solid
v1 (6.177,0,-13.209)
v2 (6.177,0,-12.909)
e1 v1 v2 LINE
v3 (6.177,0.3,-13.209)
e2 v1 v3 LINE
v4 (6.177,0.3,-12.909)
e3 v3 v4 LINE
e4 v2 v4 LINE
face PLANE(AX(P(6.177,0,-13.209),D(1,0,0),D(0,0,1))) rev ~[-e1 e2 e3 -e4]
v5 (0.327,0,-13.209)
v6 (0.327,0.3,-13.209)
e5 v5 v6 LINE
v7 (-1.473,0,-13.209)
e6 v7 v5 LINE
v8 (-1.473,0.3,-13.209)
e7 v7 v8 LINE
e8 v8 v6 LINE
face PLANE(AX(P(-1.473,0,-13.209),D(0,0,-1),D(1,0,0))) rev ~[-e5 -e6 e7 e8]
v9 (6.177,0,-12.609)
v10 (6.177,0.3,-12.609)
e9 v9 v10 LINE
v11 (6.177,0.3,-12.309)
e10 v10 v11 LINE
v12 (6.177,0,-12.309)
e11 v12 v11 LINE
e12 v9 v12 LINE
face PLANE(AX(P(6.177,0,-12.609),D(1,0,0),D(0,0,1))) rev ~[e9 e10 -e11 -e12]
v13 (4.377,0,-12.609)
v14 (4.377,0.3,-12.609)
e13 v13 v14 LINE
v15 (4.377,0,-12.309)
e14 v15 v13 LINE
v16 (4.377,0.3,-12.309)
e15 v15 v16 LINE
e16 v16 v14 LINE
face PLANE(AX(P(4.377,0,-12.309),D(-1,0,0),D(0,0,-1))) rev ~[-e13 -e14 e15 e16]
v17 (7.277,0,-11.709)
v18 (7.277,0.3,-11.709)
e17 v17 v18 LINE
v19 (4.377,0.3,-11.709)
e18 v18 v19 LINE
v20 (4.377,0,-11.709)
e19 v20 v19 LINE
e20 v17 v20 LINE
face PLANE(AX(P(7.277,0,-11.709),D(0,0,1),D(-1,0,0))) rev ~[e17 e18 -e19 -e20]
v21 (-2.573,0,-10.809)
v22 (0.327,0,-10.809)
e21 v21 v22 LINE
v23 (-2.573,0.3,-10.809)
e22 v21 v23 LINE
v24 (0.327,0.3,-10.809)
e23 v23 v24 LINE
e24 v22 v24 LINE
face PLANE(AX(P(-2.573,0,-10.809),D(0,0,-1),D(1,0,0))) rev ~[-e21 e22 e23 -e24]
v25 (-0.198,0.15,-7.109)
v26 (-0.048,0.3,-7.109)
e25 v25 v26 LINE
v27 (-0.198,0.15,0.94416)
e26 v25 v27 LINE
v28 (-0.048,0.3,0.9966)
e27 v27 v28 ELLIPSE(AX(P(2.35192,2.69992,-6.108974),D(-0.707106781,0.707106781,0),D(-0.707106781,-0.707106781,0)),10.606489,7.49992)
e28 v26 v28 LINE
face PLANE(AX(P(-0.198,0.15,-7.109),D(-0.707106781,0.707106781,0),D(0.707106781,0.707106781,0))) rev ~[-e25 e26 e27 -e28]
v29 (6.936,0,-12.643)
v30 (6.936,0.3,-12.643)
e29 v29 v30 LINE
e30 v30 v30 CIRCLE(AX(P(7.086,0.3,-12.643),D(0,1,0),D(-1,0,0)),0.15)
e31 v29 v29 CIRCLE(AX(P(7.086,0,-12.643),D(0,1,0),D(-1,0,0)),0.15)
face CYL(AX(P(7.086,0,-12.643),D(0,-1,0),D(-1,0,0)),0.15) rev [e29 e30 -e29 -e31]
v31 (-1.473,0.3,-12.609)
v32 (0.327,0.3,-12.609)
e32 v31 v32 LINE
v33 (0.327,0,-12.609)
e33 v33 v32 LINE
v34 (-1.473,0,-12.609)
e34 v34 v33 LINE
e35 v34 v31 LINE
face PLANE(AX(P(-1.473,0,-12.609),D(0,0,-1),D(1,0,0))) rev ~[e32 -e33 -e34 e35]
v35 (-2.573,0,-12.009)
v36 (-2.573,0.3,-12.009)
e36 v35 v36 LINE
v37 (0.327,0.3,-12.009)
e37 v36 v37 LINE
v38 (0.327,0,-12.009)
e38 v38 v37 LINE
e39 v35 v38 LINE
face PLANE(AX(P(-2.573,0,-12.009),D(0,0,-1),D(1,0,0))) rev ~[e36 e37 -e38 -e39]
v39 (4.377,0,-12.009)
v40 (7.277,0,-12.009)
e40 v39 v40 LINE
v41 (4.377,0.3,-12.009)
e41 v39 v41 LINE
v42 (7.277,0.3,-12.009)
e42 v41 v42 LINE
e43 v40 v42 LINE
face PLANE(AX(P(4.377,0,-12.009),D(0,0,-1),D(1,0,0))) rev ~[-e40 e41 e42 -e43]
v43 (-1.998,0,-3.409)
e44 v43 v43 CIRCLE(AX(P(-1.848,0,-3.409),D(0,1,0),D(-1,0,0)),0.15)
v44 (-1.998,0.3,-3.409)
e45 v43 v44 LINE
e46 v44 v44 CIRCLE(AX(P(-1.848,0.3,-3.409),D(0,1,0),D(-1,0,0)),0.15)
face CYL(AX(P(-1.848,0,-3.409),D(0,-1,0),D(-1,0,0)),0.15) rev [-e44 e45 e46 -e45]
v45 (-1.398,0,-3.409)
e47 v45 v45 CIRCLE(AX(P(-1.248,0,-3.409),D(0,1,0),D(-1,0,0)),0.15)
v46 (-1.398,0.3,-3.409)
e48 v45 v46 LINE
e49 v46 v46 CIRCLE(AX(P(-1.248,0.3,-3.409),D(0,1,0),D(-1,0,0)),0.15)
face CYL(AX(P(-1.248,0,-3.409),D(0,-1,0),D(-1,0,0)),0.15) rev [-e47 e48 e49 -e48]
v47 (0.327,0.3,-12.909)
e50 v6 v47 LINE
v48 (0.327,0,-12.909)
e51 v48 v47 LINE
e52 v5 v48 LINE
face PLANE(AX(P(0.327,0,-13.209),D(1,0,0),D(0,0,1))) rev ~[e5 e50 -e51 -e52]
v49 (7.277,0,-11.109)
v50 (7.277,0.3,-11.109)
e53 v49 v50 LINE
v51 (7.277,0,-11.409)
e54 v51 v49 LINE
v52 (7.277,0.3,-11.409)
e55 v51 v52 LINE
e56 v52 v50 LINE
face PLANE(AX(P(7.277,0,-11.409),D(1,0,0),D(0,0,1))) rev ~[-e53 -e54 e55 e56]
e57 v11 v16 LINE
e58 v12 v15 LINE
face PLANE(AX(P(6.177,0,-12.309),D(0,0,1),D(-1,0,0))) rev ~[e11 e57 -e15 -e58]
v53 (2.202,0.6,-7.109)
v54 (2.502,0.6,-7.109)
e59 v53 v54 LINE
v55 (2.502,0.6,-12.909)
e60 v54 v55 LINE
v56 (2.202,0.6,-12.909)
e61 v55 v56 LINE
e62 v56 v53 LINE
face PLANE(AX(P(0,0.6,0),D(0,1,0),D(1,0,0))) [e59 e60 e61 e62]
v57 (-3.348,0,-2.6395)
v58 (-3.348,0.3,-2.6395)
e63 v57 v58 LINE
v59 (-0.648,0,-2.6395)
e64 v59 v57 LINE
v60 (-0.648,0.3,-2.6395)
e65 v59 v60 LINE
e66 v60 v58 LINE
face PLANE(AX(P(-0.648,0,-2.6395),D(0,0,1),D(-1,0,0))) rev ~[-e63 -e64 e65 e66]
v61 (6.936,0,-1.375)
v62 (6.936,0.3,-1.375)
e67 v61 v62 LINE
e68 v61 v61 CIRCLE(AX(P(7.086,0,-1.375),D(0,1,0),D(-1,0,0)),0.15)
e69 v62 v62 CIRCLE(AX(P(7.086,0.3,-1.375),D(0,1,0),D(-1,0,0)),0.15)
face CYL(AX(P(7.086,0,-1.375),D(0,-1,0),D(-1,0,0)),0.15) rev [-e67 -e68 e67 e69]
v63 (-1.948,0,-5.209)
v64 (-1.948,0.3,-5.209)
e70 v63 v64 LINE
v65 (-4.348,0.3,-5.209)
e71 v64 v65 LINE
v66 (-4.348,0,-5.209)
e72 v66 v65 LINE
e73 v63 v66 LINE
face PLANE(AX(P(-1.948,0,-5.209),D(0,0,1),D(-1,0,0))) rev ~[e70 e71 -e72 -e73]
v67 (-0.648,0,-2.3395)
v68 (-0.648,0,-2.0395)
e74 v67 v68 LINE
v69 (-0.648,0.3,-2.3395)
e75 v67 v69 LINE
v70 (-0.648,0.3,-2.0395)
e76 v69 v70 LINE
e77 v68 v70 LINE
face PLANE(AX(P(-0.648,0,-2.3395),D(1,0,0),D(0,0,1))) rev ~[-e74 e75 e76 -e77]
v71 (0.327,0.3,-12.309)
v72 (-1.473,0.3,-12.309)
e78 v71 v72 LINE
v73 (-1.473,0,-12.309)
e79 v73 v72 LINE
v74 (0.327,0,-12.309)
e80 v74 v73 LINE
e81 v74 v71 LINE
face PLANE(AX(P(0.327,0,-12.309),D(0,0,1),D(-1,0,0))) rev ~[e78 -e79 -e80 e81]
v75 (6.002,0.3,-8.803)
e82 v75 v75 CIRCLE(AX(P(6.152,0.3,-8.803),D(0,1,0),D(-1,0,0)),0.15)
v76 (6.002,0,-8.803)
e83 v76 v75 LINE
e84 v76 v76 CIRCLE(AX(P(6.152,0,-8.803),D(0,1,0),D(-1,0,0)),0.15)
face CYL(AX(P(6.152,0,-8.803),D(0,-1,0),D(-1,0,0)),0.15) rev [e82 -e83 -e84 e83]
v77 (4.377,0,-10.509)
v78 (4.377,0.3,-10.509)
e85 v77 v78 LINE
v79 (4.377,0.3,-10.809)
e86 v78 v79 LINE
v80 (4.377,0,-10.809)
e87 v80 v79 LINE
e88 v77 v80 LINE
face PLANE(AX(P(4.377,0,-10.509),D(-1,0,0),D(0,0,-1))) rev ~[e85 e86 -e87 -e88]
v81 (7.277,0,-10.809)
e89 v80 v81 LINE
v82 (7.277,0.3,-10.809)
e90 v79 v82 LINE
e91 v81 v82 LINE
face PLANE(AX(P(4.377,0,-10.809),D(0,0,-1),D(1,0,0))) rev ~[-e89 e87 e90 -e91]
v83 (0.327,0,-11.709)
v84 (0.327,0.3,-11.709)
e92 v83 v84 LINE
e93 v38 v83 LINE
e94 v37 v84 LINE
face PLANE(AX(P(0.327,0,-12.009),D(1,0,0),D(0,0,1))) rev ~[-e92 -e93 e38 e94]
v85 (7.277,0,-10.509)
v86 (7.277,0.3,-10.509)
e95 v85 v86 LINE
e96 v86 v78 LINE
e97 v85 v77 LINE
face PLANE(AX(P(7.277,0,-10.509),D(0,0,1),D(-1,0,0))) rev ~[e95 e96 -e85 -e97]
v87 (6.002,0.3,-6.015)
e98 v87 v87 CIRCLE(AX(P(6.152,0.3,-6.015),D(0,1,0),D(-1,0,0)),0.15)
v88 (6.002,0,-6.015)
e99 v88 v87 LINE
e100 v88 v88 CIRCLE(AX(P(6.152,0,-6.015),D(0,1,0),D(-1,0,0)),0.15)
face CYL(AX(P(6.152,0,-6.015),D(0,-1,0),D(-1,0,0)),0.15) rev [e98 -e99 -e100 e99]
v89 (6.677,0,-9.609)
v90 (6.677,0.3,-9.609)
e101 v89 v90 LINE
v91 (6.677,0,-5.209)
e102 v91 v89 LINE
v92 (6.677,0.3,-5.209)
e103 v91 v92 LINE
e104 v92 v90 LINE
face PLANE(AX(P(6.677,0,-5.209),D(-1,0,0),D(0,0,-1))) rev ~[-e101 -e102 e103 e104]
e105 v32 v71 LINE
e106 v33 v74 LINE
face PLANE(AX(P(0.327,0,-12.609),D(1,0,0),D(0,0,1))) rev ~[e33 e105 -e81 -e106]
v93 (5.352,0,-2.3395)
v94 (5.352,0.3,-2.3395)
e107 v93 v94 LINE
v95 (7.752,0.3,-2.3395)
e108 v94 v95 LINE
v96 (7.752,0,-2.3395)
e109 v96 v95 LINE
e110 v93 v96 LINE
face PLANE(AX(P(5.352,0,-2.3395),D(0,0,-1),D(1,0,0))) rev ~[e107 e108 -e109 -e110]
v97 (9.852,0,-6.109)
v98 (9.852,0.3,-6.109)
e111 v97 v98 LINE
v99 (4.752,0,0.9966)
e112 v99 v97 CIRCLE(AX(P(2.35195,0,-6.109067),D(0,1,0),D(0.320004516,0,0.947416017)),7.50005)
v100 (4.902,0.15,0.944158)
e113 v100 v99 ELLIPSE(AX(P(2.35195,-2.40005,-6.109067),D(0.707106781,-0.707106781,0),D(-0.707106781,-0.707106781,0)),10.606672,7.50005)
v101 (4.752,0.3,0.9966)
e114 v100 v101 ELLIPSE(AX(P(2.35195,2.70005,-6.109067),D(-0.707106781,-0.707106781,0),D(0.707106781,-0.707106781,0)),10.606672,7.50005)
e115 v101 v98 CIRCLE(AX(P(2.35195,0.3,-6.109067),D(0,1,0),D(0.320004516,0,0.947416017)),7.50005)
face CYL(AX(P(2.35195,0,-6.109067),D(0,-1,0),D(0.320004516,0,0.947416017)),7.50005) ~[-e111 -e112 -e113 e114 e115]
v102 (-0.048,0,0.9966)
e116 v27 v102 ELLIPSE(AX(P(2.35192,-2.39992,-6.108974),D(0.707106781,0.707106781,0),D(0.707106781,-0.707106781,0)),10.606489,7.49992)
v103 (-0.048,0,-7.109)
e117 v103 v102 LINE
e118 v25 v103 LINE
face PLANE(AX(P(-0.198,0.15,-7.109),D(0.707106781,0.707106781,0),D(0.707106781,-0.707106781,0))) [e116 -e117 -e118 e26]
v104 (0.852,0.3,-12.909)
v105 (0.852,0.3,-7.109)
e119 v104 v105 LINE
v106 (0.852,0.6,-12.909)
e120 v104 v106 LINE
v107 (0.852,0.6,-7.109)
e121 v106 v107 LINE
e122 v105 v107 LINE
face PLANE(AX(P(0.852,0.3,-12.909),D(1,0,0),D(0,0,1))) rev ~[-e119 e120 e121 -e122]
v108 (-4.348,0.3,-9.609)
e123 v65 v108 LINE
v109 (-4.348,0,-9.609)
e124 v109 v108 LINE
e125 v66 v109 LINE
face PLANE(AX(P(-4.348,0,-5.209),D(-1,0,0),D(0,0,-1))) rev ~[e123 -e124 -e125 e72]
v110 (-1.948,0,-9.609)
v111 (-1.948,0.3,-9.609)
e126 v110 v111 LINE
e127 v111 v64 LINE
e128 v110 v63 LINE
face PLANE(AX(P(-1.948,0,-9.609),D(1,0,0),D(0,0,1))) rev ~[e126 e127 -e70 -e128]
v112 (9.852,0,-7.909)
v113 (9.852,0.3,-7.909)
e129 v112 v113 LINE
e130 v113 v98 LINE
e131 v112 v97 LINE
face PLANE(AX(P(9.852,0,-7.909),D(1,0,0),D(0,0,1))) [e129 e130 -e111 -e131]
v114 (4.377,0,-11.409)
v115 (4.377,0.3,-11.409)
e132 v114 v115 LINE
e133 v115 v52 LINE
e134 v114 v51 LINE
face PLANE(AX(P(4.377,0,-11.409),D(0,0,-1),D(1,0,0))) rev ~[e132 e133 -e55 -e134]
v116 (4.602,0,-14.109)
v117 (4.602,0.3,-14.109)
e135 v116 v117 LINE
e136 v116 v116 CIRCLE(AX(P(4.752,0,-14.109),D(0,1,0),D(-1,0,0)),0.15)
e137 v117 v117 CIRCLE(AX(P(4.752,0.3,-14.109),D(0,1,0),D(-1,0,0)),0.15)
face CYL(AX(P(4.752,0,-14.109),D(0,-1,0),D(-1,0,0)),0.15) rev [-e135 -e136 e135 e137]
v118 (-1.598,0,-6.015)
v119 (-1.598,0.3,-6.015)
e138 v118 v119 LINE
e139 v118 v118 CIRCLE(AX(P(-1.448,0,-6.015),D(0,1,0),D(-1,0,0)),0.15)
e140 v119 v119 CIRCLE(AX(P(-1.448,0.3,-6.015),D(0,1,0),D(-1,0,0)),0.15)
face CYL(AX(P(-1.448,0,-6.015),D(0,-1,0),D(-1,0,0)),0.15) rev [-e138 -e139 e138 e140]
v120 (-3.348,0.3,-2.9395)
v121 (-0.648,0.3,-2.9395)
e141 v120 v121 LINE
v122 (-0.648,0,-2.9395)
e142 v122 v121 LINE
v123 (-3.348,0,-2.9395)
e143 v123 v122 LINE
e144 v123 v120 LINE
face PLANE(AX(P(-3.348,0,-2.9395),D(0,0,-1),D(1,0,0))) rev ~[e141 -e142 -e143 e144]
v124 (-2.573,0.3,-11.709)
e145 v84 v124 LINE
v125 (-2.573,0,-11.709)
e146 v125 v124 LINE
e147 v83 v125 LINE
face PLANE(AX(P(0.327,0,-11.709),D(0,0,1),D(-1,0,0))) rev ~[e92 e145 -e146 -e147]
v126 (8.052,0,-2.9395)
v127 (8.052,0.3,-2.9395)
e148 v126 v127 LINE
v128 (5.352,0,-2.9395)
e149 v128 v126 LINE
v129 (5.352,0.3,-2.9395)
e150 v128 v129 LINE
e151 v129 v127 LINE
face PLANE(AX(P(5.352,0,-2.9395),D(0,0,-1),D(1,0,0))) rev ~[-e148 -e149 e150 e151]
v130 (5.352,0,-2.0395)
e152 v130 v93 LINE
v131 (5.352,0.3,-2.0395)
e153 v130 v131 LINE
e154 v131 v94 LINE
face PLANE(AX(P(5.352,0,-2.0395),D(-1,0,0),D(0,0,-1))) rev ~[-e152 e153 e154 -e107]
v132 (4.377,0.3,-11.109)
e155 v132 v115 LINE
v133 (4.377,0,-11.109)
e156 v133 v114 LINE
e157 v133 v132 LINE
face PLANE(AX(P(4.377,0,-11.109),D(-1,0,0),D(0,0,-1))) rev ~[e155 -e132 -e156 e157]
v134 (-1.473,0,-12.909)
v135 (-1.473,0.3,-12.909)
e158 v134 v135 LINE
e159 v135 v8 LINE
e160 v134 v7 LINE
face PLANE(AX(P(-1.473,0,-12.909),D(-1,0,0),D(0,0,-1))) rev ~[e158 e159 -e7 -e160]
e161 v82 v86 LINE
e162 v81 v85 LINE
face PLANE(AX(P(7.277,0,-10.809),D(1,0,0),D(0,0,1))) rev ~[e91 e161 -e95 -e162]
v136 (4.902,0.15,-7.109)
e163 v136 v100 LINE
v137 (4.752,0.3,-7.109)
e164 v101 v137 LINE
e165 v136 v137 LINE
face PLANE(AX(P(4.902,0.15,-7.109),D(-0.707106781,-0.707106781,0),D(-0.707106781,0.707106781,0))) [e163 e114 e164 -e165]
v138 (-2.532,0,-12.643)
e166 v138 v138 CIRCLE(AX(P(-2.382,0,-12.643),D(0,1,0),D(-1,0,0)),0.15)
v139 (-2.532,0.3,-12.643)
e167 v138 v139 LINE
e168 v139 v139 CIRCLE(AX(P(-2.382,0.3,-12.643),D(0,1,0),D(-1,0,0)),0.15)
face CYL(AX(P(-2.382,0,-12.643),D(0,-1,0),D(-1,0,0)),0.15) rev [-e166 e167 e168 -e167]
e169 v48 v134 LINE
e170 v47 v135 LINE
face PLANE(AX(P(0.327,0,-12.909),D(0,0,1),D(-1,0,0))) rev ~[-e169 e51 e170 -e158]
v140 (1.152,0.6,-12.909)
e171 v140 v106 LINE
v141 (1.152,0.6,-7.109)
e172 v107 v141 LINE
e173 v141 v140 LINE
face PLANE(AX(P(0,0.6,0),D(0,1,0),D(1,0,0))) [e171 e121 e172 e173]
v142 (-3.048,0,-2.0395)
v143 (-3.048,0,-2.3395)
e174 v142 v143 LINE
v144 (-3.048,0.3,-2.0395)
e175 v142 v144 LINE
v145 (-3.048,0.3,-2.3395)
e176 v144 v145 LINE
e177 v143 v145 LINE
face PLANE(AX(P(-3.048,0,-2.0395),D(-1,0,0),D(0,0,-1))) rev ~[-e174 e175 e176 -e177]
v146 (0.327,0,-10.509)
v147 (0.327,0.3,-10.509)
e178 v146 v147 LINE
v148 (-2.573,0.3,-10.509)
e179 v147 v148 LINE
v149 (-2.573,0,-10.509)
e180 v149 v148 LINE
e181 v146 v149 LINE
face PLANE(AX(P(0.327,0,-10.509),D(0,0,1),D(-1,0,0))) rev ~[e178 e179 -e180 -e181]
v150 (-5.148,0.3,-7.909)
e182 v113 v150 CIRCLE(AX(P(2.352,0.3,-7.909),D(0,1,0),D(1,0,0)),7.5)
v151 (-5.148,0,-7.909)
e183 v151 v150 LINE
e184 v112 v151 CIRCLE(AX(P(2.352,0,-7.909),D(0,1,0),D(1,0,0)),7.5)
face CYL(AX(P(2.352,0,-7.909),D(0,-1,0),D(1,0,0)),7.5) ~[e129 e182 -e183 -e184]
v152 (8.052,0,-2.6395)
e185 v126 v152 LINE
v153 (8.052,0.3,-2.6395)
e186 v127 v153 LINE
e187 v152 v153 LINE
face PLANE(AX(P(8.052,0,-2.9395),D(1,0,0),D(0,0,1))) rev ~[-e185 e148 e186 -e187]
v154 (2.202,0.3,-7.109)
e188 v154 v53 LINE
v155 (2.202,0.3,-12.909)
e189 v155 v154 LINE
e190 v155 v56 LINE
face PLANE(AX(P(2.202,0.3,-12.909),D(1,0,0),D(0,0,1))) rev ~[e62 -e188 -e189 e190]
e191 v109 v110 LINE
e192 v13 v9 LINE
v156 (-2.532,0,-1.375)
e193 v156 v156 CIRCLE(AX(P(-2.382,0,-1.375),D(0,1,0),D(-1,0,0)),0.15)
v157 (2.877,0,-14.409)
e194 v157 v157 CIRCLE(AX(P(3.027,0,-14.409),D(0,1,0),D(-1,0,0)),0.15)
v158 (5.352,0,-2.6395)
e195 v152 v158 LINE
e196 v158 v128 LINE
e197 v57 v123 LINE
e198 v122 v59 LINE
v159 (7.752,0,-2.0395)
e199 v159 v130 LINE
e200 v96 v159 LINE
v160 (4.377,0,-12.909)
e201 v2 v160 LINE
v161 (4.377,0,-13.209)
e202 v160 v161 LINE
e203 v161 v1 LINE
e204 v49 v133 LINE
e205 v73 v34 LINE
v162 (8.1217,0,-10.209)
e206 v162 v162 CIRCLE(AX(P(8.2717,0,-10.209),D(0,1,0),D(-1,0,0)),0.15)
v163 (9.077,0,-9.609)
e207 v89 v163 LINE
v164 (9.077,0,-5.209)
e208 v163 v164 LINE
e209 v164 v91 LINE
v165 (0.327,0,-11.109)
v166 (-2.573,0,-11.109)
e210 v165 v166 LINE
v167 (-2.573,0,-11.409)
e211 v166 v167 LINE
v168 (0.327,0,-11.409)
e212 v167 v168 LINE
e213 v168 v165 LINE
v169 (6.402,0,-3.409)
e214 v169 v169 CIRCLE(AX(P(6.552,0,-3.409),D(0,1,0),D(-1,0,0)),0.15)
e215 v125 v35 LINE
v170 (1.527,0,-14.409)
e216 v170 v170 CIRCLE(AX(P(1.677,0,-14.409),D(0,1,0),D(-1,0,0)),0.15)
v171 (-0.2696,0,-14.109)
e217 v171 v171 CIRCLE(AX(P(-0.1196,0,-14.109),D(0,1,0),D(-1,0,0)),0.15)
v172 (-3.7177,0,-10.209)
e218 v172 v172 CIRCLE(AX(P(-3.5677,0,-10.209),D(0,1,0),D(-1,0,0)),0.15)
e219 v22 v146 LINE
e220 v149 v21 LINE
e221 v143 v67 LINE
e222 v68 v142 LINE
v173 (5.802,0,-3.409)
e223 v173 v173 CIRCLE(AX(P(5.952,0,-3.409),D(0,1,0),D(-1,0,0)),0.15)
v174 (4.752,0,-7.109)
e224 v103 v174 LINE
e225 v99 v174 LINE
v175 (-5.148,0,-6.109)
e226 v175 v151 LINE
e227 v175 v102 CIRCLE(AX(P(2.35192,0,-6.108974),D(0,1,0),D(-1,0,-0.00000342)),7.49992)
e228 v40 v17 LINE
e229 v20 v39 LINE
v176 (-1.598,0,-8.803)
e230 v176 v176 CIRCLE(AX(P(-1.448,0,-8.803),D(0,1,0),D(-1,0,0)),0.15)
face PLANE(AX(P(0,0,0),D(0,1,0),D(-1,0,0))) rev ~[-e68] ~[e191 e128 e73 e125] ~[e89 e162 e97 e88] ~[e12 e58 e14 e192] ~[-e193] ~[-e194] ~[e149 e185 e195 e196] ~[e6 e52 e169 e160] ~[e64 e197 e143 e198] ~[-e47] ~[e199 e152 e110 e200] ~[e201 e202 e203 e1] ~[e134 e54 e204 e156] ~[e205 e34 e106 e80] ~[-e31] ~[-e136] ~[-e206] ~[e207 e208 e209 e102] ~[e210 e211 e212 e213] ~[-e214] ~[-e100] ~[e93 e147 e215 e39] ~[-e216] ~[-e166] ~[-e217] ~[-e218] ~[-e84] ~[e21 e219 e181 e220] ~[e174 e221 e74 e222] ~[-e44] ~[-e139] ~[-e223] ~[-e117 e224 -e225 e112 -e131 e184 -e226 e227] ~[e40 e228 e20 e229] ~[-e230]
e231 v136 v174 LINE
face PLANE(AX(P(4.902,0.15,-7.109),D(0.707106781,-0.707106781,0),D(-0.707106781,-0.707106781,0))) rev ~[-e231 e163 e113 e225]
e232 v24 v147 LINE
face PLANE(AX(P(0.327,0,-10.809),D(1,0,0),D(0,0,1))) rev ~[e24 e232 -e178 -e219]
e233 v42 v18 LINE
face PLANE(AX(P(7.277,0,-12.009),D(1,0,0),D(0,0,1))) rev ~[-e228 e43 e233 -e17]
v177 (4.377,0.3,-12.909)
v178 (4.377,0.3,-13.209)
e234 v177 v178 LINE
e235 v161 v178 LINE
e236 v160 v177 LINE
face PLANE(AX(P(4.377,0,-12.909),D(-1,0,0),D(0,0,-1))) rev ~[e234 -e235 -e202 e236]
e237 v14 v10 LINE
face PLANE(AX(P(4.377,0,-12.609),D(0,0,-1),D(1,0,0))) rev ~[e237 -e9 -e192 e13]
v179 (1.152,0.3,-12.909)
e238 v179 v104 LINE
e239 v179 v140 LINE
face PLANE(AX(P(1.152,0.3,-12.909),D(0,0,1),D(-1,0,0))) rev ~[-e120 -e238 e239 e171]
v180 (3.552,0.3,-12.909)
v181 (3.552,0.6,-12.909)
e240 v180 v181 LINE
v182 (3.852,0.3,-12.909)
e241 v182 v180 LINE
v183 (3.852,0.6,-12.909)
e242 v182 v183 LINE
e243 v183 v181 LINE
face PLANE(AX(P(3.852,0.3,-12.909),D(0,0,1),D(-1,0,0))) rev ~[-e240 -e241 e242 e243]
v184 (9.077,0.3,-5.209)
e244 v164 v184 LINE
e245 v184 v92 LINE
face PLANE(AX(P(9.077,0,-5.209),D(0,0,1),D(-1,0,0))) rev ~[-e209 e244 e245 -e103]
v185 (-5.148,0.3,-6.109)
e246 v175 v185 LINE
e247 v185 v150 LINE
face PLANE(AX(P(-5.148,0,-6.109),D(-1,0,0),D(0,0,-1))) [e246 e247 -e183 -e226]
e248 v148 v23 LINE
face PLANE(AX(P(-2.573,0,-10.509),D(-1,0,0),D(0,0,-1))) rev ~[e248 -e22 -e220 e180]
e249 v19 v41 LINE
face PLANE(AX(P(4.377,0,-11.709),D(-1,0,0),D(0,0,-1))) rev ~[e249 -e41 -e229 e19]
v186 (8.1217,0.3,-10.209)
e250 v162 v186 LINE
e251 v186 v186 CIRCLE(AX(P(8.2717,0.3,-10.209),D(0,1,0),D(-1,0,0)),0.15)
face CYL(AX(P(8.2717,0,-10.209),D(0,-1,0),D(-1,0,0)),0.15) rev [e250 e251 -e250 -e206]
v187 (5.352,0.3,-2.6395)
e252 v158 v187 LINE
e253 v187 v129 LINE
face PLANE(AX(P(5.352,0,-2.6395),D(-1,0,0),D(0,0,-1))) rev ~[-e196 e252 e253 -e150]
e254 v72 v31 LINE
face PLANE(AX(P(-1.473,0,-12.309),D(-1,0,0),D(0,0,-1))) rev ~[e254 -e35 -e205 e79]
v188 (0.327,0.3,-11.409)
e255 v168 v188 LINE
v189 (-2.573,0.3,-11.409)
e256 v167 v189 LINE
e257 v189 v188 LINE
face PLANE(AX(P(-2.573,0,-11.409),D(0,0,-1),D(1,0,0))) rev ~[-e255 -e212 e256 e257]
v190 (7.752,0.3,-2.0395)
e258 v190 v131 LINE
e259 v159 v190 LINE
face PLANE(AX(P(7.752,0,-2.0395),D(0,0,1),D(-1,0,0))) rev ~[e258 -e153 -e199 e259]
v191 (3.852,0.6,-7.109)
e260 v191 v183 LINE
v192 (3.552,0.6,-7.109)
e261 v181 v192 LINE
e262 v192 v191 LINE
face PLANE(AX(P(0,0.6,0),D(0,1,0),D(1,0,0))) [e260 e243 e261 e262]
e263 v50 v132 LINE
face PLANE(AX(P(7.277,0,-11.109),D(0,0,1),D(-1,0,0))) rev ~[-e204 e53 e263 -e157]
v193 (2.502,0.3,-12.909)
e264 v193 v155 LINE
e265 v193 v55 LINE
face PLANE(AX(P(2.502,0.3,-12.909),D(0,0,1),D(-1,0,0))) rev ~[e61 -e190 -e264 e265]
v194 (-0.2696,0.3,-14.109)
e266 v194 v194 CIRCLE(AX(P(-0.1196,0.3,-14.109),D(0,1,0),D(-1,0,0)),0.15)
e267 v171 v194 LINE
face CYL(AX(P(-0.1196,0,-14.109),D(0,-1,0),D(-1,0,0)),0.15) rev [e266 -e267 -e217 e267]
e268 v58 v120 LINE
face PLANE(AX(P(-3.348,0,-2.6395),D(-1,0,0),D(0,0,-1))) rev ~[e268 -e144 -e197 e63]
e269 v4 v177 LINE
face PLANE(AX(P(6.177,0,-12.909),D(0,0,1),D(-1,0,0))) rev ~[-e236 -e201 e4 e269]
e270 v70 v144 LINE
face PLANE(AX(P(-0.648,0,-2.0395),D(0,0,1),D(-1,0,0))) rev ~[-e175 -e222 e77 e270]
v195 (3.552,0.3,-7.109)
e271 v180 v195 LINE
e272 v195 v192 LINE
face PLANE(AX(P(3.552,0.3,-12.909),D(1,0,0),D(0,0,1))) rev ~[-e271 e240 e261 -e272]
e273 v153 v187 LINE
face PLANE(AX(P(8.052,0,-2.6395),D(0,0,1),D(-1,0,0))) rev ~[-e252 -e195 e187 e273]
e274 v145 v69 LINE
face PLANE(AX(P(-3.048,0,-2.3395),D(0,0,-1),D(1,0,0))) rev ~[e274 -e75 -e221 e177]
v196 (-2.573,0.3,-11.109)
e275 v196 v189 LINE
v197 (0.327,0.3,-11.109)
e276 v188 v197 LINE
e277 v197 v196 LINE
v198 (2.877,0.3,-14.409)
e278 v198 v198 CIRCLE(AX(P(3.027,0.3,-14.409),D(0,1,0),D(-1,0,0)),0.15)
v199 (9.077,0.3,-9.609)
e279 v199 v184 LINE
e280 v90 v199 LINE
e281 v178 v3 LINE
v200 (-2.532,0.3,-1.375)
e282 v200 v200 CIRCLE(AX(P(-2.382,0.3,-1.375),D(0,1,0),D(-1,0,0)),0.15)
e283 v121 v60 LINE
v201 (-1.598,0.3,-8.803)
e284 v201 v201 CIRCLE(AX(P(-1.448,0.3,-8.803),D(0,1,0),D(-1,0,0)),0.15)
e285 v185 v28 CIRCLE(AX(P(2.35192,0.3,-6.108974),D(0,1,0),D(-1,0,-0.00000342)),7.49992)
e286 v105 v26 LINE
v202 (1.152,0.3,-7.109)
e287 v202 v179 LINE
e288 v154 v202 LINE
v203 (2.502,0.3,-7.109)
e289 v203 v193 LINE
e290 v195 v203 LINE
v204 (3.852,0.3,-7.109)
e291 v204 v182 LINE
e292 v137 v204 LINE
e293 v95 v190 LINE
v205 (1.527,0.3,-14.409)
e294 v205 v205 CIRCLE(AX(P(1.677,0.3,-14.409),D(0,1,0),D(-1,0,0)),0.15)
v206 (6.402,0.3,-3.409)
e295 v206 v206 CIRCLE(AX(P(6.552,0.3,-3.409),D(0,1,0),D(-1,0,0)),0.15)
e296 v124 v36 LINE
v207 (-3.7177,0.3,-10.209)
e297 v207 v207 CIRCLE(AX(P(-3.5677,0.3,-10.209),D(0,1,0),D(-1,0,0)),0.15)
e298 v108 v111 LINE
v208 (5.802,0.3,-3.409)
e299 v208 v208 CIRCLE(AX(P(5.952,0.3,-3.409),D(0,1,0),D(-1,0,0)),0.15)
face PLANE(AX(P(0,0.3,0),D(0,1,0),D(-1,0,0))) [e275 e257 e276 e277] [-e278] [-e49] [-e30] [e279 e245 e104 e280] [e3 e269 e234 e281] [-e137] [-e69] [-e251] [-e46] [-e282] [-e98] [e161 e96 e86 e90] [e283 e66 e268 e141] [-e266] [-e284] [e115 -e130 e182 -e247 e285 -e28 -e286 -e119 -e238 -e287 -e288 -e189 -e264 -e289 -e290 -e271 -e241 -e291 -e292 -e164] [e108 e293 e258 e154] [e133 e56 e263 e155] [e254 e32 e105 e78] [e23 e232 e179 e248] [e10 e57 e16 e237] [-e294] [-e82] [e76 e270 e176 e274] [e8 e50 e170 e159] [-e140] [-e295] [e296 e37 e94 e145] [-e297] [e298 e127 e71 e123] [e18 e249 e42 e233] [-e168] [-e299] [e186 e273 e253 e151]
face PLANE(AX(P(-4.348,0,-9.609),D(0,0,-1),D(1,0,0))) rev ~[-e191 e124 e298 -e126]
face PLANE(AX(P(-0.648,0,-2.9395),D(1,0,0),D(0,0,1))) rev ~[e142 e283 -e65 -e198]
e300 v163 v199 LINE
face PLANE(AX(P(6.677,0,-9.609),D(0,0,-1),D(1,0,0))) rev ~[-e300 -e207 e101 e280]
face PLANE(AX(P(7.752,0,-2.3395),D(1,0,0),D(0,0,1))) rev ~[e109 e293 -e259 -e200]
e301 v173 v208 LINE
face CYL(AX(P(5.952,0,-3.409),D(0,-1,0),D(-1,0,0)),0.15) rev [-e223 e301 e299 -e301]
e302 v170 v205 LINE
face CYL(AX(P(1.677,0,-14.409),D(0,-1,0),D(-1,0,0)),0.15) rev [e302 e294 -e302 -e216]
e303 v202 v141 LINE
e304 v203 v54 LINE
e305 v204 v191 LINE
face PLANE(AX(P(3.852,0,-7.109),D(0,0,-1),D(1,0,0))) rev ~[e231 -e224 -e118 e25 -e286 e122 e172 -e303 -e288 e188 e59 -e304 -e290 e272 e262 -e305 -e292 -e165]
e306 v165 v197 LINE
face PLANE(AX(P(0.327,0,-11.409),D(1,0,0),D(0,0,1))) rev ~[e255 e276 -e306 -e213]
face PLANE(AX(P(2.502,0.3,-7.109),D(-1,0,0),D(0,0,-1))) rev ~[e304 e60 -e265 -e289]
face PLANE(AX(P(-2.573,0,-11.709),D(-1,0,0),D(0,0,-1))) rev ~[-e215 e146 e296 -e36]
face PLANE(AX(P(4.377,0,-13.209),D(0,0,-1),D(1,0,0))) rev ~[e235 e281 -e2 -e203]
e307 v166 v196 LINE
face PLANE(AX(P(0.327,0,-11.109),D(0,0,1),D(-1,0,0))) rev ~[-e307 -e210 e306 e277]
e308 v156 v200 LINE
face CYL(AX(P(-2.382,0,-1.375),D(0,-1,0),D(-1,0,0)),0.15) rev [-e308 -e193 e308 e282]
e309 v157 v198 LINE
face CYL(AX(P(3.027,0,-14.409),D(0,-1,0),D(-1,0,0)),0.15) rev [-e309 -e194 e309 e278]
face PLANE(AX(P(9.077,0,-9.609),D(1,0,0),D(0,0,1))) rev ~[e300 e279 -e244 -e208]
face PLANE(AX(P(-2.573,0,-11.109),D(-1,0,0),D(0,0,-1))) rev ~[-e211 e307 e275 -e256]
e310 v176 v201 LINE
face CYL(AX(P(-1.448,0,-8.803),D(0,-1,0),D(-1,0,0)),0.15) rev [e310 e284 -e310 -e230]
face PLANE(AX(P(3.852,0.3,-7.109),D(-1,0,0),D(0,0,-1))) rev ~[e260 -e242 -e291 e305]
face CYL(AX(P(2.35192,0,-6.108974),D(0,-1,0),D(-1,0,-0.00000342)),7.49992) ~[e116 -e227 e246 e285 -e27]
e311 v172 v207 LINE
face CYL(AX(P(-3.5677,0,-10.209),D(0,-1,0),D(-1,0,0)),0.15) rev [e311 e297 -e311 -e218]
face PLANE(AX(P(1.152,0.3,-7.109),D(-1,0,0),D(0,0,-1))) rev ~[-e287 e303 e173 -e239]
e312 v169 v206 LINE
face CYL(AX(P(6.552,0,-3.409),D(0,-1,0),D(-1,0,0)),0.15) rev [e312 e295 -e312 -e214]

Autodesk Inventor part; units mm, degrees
ref_plane "YZ Plane" through (0, 0, 0) normal (1, 0, 0) x (0, 1, 0)
ref_plane "XZ Plane" through (0, 0, 0) normal (0, 1, 0) x (-1, 0, 0)
ref_plane "XY Plane" through (0, 0, 0) normal (0, 0, 1) x (1, 0, 0)
sketch "Boceto1" plane through (0, 0, 0) normal (0, 1, 0) x (-1, 0, 0)
  circle A0 centre (1.848, -3.409) radius 0.15
  circle A1 centre (-6.552, -3.409) radius 0.15
  circle A2 centre (-5.952, -3.409) radius 0.15
  circle A3 centre (1.248, -3.409) radius 0.15
  line L0 (2.573, -11.109) -> (2.573, -11.409)
  line L1 (2.573, -11.409) -> (-0.327, -11.409)
  line L2 (-0.327, -11.409) -> (-0.327, -11.109)
  line L3 (-0.327, -11.109) -> (2.573, -11.109)
  line L4 (-7.277, -12.009) -> (-7.277, -11.709)
  line L5 (-7.277, -11.709) -> (-4.377, -11.709)
  line L6 (-4.377, -11.709) -> (-4.377, -12.009)
  line L7 (-4.377, -12.009) -> (-7.277, -12.009)
  line L8 (-7.277, -10.509) -> (-4.377, -10.509)
  line L9 (-4.377, -10.509) -> (-4.377, -10.809)
  line L10 (-4.377, -10.809) -> (-7.277, -10.809)
  line L11 (-7.277, -10.809) -> (-7.277, -10.509)
  line L12 (0.648, -2.9395) -> (0.648, -2.6395)
  line L13 (0.648, -2.6395) -> (3.348, -2.6395)
  line L14 (3.348, -2.6395) -> (3.348, -2.9395)
  line L15 (3.348, -2.9395) -> (0.648, -2.9395)
  line L16 (0.648, -2.3395) -> (0.648, -2.0395)
  line L17 (0.648, -2.0395) -> (3.048, -2.0395)
  line L18 (3.048, -2.0395) -> (3.048, -2.3395)
  line L19 (3.048, -2.3395) -> (0.648, -2.3395)
  line L20 (-0.327, -12.309) -> (1.473, -12.309)
  line L21 (1.473, -12.309) -> (1.473, -12.609)
  line L22 (1.473, -12.609) -> (-0.327, -12.609)
  line L23 (-0.327, -12.609) -> (-0.327, -12.309)
  line L24 (-6.177, -12.609) -> (-6.177, -12.309)
  line L25 (-6.177, -12.309) -> (-4.377, -12.309)
  line L26 (-4.377, -12.309) -> (-4.377, -12.609)
  line L27 (-4.377, -12.609) -> (-6.177, -12.609)
  line L28 (-6.177, -13.209) -> (-6.177, -12.909)
  line L29 (-6.177, -12.909) -> (-4.377, -12.909)
  line L30 (-4.377, -12.909) -> (-4.377, -13.209)
  line L31 (-4.377, -13.209) -> (-6.177, -13.209)
  line L32 (-0.327, -13.209) -> (-0.327, -12.909)
  line L33 (-0.327, -12.909) -> (1.473, -12.909)
  line L34 (1.473, -12.909) -> (1.473, -13.209)
  line L35 (1.473, -13.209) -> (-0.327, -13.209)
  line L36 (-5.352, -2.0395) -> (-5.352, -2.3395)
  line L37 (-5.352, -2.3395) -> (-7.752, -2.3395)
  line L38 (-7.752, -2.3395) -> (-7.752, -2.0395)
  line L39 (-7.752, -2.0395) -> (-5.352, -2.0395)
  line L40 (-5.352, -2.6395) -> (-5.352, -2.9395)
  line L41 (-5.352, -2.9395) -> (-8.052, -2.9395)
  line L42 (-8.052, -2.9395) -> (-8.052, -2.6395)
  line L43 (-8.052, -2.6395) -> (-5.352, -2.6395)
  line L44 (-7.277, -11.409) -> (-7.277, -11.109)
  line L45 (-7.277, -11.109) -> (-4.377, -11.109)
  line L46 (-4.377, -11.109) -> (-4.377, -11.409)
  line L47 (-4.377, -11.409) -> (-7.277, -11.409)
  line L48 (-0.327, -12.009) -> (-0.327, -11.709)
  line L49 (-0.327, -11.709) -> (2.573, -11.709)
  line L50 (2.573, -11.709) -> (2.573, -12.009)
  line L51 (2.573, -12.009) -> (-0.327, -12.009)
  line L52 (2.573, -10.809) -> (-0.327, -10.809)
  line L53 (-0.327, -10.809) -> (-0.327, -10.509)
  line L54 (-0.327, -10.509) -> (2.573, -10.509)
  line L55 (2.573, -10.509) -> (2.573, -10.809)
  circle A4 centre (0.1196, -14.109) radius 0.15
  circle A5 centre (-4.752, -14.109) radius 0.15
  circle A6 centre (3.5677, -10.209) radius 0.15
  circle A7 centre (-8.2717, -10.209) radius 0.15
  line L56 (-4.752, 0.9966) -> (-4.752, -7.109)
  arc A8 (-4.752, 0.9966) -> (-9.852, -6.109) centre (-2.352, -6.109) ccw
  line L57 (-9.852, -7.909) -> (-9.852, -6.109)
  arc A9 (-9.852, -7.909) -> (5.148, -7.909) centre (-2.352, -7.909) ccw
  line L58 (5.148, -6.109) -> (5.148, -7.909)
  arc A10 (5.148, -6.109) -> (0.048, 0.9966) centre (-2.352, -6.109) ccw
  line L59 (0.048, -7.109) -> (0.048, 0.9966)
  line L60 (-9.077, -9.609) -> (-9.077, -5.209)
  line L61 (-9.077, -5.209) -> (-6.677, -5.209)
  line L62 (-6.677, -5.209) -> (-6.677, -9.609)
  line L63 (-6.677, -9.609) -> (-9.077, -9.609)
  line L64 (1.948, -9.609) -> (1.948, -5.209)
  line L65 (1.948, -5.209) -> (4.348, -5.209)
  line L66 (4.348, -5.209) -> (4.348, -9.609)
  line L67 (4.348, -9.609) -> (1.948, -9.609)
  circle A11 centre (-7.086, -1.375) radius 0.15
  circle A12 centre (2.382, -1.375) radius 0.15
  circle A13 centre (-7.086, -12.643) radius 0.15
  circle A14 centre (2.382, -12.643) radius 0.15
  circle A15 centre (-6.152, -6.015) radius 0.15
  circle A16 centre (-6.152, -8.803) radius 0.15
  circle A17 centre (1.448, -6.015) radius 0.15
  circle A18 centre (1.448, -8.803) radius 0.15
  circle A19 centre (-1.677, -14.409) radius 0.15
  circle A20 centre (-3.027, -14.409) radius 0.15
  line L68 (0.048, -7.109) -> (-4.752, -7.109)
  line L69 (-0.852, -7.109) -> (0.048, -7.109)
  line L70 (-4.752, -7.109) -> (-3.852, -7.109)
  line L71 (-1.152, -12.909) -> (-1.152, -7.109)
  line L72 (-2.202, -7.109) -> (-1.152, -7.109)
  line L73 (-2.202, -7.109) -> (-2.202, -12.909)
  line L74 (-2.202, -12.909) -> (-2.502, -12.909)
  line L75 (-2.502, -12.909) -> (-2.502, -7.109)
  line L76 (-3.552, -7.109) -> (-2.502, -7.109)
  line L77 (-3.552, -7.109) -> (-3.552, -12.909)
  line L78 (-3.852, -12.909) -> (-3.852, -7.109)
  line L79 (-0.852, -7.109) -> (-0.852, -12.909)
  line L80 (-0.852, -12.909) -> (-1.152, -12.909)
  line L81 (-3.552, -12.909) -> (-3.852, -12.909)
  point P0 (0, 0)
  point P1 (0, 0.8)
  point P2 (-2.352, -7.109)
extrude "Extrusión1" add sketch "Boceto1" along normal blind 0.3
sketch "Boceto2" plane through (0, 0.3, 0) normal (0, 1, 0) x (1, 0, 0)
  line L0 (-9.852, -7.909) -> (-9.852, -6.109)
  line L1 (-0.048, 7.109) -> (4.752, 7.109) projected
  line L2 (1.152, 7.109) -> (2.202, 7.109)
  line L3 (3.852, 7.109) -> (4.752, 7.109)
  line L4 (2.502, 7.109) -> (3.552, 7.109)
  line L5 (-0.048, 7.109) -> (0.852, 7.109)
  line L6 (4.752, 7.109) -> (-0.048, 7.109)
  line L7 (3.852, 12.909) -> (3.552, 12.909)
  line L8 (2.502, 12.909) -> (2.202, 12.909)
  line L9 (0.852, 12.909) -> (0.852, 7.109)
  line L10 (1.152, 7.109) -> (1.152, 12.909)
  line L11 (2.202, 12.909) -> (2.202, 7.109)
  line L12 (2.502, 7.109) -> (2.502, 12.909)
  line L13 (3.552, 12.909) -> (3.552, 7.109)
  line L14 (3.852, 7.109) -> (3.852, 12.909)
  line L15 (1.152, 12.909) -> (0.852, 12.909)
  line L16 (0.852, 7.109) -> (1.152, 7.109)
  line L17 (1.152, 7.109) -> (1.152, 12.909)
  line L18 (1.152, 12.909) -> (0.852, 12.909)
  line L19 (0.852, 12.909) -> (0.852, 7.109)
  line L20 (2.202, 12.909) -> (2.502, 12.909)
  line L21 (2.502, 12.909) -> (2.502, 7.109)
  line L22 (2.502, 7.109) -> (2.202, 7.109)
  line L23 (2.202, 7.109) -> (2.202, 12.909)
  line L24 (3.552, 12.909) -> (3.852, 12.909)
  line L25 (3.852, 12.909) -> (3.852, 7.109)
  line L26 (3.852, 7.109) -> (3.552, 7.109)
  line L27 (3.552, 7.109) -> (3.552, 12.909)
  point P0 (2.352, 7.109)
  point P1 (2.352, 7.909)
sketch "Boceto3" plane through (-0.048, 0, -7.109) normal (0, 0, 1) x (1, 0, 0)
  line L0 (0, 0) -> (4.8, 0)
  line L1 (4.8, 0) -> (4.8, 0.3)
  line L2 (0, 0.3) -> (4.8, 0.3)
  line L3 (0, 0) -> (0, 0.3)
  line L4 (-0.15, 0.15) -> (0, 0)
  line L5 (-0.15, 0.15) -> (0, 0.3)
  line L6 (0, 0.3) -> (4.8, 0.3)
  line L7 (9.9, 0.3) -> (-5.1, 0.3)
  line L8 (4.8, 0.3) -> (4.8, 0)
  line L9 (4.95, 0.15) -> (4.8, 0.3)
  line L10 (4.95, 0.15) -> (4.8, 0)
  line L11 (4.8, 0) -> (0, 0)
  line L12 (9.9, 0) -> (-5.1, 0)
  point P0 (0.048, 0)
  point P1 (4.752, 0)
extrude "Extrusión2" cut sketch "Boceto3" along normal blind 12
extrude "Extrusión3" add sketch "Boceto2" along normal blind 0.3
properties part number "LBase"
